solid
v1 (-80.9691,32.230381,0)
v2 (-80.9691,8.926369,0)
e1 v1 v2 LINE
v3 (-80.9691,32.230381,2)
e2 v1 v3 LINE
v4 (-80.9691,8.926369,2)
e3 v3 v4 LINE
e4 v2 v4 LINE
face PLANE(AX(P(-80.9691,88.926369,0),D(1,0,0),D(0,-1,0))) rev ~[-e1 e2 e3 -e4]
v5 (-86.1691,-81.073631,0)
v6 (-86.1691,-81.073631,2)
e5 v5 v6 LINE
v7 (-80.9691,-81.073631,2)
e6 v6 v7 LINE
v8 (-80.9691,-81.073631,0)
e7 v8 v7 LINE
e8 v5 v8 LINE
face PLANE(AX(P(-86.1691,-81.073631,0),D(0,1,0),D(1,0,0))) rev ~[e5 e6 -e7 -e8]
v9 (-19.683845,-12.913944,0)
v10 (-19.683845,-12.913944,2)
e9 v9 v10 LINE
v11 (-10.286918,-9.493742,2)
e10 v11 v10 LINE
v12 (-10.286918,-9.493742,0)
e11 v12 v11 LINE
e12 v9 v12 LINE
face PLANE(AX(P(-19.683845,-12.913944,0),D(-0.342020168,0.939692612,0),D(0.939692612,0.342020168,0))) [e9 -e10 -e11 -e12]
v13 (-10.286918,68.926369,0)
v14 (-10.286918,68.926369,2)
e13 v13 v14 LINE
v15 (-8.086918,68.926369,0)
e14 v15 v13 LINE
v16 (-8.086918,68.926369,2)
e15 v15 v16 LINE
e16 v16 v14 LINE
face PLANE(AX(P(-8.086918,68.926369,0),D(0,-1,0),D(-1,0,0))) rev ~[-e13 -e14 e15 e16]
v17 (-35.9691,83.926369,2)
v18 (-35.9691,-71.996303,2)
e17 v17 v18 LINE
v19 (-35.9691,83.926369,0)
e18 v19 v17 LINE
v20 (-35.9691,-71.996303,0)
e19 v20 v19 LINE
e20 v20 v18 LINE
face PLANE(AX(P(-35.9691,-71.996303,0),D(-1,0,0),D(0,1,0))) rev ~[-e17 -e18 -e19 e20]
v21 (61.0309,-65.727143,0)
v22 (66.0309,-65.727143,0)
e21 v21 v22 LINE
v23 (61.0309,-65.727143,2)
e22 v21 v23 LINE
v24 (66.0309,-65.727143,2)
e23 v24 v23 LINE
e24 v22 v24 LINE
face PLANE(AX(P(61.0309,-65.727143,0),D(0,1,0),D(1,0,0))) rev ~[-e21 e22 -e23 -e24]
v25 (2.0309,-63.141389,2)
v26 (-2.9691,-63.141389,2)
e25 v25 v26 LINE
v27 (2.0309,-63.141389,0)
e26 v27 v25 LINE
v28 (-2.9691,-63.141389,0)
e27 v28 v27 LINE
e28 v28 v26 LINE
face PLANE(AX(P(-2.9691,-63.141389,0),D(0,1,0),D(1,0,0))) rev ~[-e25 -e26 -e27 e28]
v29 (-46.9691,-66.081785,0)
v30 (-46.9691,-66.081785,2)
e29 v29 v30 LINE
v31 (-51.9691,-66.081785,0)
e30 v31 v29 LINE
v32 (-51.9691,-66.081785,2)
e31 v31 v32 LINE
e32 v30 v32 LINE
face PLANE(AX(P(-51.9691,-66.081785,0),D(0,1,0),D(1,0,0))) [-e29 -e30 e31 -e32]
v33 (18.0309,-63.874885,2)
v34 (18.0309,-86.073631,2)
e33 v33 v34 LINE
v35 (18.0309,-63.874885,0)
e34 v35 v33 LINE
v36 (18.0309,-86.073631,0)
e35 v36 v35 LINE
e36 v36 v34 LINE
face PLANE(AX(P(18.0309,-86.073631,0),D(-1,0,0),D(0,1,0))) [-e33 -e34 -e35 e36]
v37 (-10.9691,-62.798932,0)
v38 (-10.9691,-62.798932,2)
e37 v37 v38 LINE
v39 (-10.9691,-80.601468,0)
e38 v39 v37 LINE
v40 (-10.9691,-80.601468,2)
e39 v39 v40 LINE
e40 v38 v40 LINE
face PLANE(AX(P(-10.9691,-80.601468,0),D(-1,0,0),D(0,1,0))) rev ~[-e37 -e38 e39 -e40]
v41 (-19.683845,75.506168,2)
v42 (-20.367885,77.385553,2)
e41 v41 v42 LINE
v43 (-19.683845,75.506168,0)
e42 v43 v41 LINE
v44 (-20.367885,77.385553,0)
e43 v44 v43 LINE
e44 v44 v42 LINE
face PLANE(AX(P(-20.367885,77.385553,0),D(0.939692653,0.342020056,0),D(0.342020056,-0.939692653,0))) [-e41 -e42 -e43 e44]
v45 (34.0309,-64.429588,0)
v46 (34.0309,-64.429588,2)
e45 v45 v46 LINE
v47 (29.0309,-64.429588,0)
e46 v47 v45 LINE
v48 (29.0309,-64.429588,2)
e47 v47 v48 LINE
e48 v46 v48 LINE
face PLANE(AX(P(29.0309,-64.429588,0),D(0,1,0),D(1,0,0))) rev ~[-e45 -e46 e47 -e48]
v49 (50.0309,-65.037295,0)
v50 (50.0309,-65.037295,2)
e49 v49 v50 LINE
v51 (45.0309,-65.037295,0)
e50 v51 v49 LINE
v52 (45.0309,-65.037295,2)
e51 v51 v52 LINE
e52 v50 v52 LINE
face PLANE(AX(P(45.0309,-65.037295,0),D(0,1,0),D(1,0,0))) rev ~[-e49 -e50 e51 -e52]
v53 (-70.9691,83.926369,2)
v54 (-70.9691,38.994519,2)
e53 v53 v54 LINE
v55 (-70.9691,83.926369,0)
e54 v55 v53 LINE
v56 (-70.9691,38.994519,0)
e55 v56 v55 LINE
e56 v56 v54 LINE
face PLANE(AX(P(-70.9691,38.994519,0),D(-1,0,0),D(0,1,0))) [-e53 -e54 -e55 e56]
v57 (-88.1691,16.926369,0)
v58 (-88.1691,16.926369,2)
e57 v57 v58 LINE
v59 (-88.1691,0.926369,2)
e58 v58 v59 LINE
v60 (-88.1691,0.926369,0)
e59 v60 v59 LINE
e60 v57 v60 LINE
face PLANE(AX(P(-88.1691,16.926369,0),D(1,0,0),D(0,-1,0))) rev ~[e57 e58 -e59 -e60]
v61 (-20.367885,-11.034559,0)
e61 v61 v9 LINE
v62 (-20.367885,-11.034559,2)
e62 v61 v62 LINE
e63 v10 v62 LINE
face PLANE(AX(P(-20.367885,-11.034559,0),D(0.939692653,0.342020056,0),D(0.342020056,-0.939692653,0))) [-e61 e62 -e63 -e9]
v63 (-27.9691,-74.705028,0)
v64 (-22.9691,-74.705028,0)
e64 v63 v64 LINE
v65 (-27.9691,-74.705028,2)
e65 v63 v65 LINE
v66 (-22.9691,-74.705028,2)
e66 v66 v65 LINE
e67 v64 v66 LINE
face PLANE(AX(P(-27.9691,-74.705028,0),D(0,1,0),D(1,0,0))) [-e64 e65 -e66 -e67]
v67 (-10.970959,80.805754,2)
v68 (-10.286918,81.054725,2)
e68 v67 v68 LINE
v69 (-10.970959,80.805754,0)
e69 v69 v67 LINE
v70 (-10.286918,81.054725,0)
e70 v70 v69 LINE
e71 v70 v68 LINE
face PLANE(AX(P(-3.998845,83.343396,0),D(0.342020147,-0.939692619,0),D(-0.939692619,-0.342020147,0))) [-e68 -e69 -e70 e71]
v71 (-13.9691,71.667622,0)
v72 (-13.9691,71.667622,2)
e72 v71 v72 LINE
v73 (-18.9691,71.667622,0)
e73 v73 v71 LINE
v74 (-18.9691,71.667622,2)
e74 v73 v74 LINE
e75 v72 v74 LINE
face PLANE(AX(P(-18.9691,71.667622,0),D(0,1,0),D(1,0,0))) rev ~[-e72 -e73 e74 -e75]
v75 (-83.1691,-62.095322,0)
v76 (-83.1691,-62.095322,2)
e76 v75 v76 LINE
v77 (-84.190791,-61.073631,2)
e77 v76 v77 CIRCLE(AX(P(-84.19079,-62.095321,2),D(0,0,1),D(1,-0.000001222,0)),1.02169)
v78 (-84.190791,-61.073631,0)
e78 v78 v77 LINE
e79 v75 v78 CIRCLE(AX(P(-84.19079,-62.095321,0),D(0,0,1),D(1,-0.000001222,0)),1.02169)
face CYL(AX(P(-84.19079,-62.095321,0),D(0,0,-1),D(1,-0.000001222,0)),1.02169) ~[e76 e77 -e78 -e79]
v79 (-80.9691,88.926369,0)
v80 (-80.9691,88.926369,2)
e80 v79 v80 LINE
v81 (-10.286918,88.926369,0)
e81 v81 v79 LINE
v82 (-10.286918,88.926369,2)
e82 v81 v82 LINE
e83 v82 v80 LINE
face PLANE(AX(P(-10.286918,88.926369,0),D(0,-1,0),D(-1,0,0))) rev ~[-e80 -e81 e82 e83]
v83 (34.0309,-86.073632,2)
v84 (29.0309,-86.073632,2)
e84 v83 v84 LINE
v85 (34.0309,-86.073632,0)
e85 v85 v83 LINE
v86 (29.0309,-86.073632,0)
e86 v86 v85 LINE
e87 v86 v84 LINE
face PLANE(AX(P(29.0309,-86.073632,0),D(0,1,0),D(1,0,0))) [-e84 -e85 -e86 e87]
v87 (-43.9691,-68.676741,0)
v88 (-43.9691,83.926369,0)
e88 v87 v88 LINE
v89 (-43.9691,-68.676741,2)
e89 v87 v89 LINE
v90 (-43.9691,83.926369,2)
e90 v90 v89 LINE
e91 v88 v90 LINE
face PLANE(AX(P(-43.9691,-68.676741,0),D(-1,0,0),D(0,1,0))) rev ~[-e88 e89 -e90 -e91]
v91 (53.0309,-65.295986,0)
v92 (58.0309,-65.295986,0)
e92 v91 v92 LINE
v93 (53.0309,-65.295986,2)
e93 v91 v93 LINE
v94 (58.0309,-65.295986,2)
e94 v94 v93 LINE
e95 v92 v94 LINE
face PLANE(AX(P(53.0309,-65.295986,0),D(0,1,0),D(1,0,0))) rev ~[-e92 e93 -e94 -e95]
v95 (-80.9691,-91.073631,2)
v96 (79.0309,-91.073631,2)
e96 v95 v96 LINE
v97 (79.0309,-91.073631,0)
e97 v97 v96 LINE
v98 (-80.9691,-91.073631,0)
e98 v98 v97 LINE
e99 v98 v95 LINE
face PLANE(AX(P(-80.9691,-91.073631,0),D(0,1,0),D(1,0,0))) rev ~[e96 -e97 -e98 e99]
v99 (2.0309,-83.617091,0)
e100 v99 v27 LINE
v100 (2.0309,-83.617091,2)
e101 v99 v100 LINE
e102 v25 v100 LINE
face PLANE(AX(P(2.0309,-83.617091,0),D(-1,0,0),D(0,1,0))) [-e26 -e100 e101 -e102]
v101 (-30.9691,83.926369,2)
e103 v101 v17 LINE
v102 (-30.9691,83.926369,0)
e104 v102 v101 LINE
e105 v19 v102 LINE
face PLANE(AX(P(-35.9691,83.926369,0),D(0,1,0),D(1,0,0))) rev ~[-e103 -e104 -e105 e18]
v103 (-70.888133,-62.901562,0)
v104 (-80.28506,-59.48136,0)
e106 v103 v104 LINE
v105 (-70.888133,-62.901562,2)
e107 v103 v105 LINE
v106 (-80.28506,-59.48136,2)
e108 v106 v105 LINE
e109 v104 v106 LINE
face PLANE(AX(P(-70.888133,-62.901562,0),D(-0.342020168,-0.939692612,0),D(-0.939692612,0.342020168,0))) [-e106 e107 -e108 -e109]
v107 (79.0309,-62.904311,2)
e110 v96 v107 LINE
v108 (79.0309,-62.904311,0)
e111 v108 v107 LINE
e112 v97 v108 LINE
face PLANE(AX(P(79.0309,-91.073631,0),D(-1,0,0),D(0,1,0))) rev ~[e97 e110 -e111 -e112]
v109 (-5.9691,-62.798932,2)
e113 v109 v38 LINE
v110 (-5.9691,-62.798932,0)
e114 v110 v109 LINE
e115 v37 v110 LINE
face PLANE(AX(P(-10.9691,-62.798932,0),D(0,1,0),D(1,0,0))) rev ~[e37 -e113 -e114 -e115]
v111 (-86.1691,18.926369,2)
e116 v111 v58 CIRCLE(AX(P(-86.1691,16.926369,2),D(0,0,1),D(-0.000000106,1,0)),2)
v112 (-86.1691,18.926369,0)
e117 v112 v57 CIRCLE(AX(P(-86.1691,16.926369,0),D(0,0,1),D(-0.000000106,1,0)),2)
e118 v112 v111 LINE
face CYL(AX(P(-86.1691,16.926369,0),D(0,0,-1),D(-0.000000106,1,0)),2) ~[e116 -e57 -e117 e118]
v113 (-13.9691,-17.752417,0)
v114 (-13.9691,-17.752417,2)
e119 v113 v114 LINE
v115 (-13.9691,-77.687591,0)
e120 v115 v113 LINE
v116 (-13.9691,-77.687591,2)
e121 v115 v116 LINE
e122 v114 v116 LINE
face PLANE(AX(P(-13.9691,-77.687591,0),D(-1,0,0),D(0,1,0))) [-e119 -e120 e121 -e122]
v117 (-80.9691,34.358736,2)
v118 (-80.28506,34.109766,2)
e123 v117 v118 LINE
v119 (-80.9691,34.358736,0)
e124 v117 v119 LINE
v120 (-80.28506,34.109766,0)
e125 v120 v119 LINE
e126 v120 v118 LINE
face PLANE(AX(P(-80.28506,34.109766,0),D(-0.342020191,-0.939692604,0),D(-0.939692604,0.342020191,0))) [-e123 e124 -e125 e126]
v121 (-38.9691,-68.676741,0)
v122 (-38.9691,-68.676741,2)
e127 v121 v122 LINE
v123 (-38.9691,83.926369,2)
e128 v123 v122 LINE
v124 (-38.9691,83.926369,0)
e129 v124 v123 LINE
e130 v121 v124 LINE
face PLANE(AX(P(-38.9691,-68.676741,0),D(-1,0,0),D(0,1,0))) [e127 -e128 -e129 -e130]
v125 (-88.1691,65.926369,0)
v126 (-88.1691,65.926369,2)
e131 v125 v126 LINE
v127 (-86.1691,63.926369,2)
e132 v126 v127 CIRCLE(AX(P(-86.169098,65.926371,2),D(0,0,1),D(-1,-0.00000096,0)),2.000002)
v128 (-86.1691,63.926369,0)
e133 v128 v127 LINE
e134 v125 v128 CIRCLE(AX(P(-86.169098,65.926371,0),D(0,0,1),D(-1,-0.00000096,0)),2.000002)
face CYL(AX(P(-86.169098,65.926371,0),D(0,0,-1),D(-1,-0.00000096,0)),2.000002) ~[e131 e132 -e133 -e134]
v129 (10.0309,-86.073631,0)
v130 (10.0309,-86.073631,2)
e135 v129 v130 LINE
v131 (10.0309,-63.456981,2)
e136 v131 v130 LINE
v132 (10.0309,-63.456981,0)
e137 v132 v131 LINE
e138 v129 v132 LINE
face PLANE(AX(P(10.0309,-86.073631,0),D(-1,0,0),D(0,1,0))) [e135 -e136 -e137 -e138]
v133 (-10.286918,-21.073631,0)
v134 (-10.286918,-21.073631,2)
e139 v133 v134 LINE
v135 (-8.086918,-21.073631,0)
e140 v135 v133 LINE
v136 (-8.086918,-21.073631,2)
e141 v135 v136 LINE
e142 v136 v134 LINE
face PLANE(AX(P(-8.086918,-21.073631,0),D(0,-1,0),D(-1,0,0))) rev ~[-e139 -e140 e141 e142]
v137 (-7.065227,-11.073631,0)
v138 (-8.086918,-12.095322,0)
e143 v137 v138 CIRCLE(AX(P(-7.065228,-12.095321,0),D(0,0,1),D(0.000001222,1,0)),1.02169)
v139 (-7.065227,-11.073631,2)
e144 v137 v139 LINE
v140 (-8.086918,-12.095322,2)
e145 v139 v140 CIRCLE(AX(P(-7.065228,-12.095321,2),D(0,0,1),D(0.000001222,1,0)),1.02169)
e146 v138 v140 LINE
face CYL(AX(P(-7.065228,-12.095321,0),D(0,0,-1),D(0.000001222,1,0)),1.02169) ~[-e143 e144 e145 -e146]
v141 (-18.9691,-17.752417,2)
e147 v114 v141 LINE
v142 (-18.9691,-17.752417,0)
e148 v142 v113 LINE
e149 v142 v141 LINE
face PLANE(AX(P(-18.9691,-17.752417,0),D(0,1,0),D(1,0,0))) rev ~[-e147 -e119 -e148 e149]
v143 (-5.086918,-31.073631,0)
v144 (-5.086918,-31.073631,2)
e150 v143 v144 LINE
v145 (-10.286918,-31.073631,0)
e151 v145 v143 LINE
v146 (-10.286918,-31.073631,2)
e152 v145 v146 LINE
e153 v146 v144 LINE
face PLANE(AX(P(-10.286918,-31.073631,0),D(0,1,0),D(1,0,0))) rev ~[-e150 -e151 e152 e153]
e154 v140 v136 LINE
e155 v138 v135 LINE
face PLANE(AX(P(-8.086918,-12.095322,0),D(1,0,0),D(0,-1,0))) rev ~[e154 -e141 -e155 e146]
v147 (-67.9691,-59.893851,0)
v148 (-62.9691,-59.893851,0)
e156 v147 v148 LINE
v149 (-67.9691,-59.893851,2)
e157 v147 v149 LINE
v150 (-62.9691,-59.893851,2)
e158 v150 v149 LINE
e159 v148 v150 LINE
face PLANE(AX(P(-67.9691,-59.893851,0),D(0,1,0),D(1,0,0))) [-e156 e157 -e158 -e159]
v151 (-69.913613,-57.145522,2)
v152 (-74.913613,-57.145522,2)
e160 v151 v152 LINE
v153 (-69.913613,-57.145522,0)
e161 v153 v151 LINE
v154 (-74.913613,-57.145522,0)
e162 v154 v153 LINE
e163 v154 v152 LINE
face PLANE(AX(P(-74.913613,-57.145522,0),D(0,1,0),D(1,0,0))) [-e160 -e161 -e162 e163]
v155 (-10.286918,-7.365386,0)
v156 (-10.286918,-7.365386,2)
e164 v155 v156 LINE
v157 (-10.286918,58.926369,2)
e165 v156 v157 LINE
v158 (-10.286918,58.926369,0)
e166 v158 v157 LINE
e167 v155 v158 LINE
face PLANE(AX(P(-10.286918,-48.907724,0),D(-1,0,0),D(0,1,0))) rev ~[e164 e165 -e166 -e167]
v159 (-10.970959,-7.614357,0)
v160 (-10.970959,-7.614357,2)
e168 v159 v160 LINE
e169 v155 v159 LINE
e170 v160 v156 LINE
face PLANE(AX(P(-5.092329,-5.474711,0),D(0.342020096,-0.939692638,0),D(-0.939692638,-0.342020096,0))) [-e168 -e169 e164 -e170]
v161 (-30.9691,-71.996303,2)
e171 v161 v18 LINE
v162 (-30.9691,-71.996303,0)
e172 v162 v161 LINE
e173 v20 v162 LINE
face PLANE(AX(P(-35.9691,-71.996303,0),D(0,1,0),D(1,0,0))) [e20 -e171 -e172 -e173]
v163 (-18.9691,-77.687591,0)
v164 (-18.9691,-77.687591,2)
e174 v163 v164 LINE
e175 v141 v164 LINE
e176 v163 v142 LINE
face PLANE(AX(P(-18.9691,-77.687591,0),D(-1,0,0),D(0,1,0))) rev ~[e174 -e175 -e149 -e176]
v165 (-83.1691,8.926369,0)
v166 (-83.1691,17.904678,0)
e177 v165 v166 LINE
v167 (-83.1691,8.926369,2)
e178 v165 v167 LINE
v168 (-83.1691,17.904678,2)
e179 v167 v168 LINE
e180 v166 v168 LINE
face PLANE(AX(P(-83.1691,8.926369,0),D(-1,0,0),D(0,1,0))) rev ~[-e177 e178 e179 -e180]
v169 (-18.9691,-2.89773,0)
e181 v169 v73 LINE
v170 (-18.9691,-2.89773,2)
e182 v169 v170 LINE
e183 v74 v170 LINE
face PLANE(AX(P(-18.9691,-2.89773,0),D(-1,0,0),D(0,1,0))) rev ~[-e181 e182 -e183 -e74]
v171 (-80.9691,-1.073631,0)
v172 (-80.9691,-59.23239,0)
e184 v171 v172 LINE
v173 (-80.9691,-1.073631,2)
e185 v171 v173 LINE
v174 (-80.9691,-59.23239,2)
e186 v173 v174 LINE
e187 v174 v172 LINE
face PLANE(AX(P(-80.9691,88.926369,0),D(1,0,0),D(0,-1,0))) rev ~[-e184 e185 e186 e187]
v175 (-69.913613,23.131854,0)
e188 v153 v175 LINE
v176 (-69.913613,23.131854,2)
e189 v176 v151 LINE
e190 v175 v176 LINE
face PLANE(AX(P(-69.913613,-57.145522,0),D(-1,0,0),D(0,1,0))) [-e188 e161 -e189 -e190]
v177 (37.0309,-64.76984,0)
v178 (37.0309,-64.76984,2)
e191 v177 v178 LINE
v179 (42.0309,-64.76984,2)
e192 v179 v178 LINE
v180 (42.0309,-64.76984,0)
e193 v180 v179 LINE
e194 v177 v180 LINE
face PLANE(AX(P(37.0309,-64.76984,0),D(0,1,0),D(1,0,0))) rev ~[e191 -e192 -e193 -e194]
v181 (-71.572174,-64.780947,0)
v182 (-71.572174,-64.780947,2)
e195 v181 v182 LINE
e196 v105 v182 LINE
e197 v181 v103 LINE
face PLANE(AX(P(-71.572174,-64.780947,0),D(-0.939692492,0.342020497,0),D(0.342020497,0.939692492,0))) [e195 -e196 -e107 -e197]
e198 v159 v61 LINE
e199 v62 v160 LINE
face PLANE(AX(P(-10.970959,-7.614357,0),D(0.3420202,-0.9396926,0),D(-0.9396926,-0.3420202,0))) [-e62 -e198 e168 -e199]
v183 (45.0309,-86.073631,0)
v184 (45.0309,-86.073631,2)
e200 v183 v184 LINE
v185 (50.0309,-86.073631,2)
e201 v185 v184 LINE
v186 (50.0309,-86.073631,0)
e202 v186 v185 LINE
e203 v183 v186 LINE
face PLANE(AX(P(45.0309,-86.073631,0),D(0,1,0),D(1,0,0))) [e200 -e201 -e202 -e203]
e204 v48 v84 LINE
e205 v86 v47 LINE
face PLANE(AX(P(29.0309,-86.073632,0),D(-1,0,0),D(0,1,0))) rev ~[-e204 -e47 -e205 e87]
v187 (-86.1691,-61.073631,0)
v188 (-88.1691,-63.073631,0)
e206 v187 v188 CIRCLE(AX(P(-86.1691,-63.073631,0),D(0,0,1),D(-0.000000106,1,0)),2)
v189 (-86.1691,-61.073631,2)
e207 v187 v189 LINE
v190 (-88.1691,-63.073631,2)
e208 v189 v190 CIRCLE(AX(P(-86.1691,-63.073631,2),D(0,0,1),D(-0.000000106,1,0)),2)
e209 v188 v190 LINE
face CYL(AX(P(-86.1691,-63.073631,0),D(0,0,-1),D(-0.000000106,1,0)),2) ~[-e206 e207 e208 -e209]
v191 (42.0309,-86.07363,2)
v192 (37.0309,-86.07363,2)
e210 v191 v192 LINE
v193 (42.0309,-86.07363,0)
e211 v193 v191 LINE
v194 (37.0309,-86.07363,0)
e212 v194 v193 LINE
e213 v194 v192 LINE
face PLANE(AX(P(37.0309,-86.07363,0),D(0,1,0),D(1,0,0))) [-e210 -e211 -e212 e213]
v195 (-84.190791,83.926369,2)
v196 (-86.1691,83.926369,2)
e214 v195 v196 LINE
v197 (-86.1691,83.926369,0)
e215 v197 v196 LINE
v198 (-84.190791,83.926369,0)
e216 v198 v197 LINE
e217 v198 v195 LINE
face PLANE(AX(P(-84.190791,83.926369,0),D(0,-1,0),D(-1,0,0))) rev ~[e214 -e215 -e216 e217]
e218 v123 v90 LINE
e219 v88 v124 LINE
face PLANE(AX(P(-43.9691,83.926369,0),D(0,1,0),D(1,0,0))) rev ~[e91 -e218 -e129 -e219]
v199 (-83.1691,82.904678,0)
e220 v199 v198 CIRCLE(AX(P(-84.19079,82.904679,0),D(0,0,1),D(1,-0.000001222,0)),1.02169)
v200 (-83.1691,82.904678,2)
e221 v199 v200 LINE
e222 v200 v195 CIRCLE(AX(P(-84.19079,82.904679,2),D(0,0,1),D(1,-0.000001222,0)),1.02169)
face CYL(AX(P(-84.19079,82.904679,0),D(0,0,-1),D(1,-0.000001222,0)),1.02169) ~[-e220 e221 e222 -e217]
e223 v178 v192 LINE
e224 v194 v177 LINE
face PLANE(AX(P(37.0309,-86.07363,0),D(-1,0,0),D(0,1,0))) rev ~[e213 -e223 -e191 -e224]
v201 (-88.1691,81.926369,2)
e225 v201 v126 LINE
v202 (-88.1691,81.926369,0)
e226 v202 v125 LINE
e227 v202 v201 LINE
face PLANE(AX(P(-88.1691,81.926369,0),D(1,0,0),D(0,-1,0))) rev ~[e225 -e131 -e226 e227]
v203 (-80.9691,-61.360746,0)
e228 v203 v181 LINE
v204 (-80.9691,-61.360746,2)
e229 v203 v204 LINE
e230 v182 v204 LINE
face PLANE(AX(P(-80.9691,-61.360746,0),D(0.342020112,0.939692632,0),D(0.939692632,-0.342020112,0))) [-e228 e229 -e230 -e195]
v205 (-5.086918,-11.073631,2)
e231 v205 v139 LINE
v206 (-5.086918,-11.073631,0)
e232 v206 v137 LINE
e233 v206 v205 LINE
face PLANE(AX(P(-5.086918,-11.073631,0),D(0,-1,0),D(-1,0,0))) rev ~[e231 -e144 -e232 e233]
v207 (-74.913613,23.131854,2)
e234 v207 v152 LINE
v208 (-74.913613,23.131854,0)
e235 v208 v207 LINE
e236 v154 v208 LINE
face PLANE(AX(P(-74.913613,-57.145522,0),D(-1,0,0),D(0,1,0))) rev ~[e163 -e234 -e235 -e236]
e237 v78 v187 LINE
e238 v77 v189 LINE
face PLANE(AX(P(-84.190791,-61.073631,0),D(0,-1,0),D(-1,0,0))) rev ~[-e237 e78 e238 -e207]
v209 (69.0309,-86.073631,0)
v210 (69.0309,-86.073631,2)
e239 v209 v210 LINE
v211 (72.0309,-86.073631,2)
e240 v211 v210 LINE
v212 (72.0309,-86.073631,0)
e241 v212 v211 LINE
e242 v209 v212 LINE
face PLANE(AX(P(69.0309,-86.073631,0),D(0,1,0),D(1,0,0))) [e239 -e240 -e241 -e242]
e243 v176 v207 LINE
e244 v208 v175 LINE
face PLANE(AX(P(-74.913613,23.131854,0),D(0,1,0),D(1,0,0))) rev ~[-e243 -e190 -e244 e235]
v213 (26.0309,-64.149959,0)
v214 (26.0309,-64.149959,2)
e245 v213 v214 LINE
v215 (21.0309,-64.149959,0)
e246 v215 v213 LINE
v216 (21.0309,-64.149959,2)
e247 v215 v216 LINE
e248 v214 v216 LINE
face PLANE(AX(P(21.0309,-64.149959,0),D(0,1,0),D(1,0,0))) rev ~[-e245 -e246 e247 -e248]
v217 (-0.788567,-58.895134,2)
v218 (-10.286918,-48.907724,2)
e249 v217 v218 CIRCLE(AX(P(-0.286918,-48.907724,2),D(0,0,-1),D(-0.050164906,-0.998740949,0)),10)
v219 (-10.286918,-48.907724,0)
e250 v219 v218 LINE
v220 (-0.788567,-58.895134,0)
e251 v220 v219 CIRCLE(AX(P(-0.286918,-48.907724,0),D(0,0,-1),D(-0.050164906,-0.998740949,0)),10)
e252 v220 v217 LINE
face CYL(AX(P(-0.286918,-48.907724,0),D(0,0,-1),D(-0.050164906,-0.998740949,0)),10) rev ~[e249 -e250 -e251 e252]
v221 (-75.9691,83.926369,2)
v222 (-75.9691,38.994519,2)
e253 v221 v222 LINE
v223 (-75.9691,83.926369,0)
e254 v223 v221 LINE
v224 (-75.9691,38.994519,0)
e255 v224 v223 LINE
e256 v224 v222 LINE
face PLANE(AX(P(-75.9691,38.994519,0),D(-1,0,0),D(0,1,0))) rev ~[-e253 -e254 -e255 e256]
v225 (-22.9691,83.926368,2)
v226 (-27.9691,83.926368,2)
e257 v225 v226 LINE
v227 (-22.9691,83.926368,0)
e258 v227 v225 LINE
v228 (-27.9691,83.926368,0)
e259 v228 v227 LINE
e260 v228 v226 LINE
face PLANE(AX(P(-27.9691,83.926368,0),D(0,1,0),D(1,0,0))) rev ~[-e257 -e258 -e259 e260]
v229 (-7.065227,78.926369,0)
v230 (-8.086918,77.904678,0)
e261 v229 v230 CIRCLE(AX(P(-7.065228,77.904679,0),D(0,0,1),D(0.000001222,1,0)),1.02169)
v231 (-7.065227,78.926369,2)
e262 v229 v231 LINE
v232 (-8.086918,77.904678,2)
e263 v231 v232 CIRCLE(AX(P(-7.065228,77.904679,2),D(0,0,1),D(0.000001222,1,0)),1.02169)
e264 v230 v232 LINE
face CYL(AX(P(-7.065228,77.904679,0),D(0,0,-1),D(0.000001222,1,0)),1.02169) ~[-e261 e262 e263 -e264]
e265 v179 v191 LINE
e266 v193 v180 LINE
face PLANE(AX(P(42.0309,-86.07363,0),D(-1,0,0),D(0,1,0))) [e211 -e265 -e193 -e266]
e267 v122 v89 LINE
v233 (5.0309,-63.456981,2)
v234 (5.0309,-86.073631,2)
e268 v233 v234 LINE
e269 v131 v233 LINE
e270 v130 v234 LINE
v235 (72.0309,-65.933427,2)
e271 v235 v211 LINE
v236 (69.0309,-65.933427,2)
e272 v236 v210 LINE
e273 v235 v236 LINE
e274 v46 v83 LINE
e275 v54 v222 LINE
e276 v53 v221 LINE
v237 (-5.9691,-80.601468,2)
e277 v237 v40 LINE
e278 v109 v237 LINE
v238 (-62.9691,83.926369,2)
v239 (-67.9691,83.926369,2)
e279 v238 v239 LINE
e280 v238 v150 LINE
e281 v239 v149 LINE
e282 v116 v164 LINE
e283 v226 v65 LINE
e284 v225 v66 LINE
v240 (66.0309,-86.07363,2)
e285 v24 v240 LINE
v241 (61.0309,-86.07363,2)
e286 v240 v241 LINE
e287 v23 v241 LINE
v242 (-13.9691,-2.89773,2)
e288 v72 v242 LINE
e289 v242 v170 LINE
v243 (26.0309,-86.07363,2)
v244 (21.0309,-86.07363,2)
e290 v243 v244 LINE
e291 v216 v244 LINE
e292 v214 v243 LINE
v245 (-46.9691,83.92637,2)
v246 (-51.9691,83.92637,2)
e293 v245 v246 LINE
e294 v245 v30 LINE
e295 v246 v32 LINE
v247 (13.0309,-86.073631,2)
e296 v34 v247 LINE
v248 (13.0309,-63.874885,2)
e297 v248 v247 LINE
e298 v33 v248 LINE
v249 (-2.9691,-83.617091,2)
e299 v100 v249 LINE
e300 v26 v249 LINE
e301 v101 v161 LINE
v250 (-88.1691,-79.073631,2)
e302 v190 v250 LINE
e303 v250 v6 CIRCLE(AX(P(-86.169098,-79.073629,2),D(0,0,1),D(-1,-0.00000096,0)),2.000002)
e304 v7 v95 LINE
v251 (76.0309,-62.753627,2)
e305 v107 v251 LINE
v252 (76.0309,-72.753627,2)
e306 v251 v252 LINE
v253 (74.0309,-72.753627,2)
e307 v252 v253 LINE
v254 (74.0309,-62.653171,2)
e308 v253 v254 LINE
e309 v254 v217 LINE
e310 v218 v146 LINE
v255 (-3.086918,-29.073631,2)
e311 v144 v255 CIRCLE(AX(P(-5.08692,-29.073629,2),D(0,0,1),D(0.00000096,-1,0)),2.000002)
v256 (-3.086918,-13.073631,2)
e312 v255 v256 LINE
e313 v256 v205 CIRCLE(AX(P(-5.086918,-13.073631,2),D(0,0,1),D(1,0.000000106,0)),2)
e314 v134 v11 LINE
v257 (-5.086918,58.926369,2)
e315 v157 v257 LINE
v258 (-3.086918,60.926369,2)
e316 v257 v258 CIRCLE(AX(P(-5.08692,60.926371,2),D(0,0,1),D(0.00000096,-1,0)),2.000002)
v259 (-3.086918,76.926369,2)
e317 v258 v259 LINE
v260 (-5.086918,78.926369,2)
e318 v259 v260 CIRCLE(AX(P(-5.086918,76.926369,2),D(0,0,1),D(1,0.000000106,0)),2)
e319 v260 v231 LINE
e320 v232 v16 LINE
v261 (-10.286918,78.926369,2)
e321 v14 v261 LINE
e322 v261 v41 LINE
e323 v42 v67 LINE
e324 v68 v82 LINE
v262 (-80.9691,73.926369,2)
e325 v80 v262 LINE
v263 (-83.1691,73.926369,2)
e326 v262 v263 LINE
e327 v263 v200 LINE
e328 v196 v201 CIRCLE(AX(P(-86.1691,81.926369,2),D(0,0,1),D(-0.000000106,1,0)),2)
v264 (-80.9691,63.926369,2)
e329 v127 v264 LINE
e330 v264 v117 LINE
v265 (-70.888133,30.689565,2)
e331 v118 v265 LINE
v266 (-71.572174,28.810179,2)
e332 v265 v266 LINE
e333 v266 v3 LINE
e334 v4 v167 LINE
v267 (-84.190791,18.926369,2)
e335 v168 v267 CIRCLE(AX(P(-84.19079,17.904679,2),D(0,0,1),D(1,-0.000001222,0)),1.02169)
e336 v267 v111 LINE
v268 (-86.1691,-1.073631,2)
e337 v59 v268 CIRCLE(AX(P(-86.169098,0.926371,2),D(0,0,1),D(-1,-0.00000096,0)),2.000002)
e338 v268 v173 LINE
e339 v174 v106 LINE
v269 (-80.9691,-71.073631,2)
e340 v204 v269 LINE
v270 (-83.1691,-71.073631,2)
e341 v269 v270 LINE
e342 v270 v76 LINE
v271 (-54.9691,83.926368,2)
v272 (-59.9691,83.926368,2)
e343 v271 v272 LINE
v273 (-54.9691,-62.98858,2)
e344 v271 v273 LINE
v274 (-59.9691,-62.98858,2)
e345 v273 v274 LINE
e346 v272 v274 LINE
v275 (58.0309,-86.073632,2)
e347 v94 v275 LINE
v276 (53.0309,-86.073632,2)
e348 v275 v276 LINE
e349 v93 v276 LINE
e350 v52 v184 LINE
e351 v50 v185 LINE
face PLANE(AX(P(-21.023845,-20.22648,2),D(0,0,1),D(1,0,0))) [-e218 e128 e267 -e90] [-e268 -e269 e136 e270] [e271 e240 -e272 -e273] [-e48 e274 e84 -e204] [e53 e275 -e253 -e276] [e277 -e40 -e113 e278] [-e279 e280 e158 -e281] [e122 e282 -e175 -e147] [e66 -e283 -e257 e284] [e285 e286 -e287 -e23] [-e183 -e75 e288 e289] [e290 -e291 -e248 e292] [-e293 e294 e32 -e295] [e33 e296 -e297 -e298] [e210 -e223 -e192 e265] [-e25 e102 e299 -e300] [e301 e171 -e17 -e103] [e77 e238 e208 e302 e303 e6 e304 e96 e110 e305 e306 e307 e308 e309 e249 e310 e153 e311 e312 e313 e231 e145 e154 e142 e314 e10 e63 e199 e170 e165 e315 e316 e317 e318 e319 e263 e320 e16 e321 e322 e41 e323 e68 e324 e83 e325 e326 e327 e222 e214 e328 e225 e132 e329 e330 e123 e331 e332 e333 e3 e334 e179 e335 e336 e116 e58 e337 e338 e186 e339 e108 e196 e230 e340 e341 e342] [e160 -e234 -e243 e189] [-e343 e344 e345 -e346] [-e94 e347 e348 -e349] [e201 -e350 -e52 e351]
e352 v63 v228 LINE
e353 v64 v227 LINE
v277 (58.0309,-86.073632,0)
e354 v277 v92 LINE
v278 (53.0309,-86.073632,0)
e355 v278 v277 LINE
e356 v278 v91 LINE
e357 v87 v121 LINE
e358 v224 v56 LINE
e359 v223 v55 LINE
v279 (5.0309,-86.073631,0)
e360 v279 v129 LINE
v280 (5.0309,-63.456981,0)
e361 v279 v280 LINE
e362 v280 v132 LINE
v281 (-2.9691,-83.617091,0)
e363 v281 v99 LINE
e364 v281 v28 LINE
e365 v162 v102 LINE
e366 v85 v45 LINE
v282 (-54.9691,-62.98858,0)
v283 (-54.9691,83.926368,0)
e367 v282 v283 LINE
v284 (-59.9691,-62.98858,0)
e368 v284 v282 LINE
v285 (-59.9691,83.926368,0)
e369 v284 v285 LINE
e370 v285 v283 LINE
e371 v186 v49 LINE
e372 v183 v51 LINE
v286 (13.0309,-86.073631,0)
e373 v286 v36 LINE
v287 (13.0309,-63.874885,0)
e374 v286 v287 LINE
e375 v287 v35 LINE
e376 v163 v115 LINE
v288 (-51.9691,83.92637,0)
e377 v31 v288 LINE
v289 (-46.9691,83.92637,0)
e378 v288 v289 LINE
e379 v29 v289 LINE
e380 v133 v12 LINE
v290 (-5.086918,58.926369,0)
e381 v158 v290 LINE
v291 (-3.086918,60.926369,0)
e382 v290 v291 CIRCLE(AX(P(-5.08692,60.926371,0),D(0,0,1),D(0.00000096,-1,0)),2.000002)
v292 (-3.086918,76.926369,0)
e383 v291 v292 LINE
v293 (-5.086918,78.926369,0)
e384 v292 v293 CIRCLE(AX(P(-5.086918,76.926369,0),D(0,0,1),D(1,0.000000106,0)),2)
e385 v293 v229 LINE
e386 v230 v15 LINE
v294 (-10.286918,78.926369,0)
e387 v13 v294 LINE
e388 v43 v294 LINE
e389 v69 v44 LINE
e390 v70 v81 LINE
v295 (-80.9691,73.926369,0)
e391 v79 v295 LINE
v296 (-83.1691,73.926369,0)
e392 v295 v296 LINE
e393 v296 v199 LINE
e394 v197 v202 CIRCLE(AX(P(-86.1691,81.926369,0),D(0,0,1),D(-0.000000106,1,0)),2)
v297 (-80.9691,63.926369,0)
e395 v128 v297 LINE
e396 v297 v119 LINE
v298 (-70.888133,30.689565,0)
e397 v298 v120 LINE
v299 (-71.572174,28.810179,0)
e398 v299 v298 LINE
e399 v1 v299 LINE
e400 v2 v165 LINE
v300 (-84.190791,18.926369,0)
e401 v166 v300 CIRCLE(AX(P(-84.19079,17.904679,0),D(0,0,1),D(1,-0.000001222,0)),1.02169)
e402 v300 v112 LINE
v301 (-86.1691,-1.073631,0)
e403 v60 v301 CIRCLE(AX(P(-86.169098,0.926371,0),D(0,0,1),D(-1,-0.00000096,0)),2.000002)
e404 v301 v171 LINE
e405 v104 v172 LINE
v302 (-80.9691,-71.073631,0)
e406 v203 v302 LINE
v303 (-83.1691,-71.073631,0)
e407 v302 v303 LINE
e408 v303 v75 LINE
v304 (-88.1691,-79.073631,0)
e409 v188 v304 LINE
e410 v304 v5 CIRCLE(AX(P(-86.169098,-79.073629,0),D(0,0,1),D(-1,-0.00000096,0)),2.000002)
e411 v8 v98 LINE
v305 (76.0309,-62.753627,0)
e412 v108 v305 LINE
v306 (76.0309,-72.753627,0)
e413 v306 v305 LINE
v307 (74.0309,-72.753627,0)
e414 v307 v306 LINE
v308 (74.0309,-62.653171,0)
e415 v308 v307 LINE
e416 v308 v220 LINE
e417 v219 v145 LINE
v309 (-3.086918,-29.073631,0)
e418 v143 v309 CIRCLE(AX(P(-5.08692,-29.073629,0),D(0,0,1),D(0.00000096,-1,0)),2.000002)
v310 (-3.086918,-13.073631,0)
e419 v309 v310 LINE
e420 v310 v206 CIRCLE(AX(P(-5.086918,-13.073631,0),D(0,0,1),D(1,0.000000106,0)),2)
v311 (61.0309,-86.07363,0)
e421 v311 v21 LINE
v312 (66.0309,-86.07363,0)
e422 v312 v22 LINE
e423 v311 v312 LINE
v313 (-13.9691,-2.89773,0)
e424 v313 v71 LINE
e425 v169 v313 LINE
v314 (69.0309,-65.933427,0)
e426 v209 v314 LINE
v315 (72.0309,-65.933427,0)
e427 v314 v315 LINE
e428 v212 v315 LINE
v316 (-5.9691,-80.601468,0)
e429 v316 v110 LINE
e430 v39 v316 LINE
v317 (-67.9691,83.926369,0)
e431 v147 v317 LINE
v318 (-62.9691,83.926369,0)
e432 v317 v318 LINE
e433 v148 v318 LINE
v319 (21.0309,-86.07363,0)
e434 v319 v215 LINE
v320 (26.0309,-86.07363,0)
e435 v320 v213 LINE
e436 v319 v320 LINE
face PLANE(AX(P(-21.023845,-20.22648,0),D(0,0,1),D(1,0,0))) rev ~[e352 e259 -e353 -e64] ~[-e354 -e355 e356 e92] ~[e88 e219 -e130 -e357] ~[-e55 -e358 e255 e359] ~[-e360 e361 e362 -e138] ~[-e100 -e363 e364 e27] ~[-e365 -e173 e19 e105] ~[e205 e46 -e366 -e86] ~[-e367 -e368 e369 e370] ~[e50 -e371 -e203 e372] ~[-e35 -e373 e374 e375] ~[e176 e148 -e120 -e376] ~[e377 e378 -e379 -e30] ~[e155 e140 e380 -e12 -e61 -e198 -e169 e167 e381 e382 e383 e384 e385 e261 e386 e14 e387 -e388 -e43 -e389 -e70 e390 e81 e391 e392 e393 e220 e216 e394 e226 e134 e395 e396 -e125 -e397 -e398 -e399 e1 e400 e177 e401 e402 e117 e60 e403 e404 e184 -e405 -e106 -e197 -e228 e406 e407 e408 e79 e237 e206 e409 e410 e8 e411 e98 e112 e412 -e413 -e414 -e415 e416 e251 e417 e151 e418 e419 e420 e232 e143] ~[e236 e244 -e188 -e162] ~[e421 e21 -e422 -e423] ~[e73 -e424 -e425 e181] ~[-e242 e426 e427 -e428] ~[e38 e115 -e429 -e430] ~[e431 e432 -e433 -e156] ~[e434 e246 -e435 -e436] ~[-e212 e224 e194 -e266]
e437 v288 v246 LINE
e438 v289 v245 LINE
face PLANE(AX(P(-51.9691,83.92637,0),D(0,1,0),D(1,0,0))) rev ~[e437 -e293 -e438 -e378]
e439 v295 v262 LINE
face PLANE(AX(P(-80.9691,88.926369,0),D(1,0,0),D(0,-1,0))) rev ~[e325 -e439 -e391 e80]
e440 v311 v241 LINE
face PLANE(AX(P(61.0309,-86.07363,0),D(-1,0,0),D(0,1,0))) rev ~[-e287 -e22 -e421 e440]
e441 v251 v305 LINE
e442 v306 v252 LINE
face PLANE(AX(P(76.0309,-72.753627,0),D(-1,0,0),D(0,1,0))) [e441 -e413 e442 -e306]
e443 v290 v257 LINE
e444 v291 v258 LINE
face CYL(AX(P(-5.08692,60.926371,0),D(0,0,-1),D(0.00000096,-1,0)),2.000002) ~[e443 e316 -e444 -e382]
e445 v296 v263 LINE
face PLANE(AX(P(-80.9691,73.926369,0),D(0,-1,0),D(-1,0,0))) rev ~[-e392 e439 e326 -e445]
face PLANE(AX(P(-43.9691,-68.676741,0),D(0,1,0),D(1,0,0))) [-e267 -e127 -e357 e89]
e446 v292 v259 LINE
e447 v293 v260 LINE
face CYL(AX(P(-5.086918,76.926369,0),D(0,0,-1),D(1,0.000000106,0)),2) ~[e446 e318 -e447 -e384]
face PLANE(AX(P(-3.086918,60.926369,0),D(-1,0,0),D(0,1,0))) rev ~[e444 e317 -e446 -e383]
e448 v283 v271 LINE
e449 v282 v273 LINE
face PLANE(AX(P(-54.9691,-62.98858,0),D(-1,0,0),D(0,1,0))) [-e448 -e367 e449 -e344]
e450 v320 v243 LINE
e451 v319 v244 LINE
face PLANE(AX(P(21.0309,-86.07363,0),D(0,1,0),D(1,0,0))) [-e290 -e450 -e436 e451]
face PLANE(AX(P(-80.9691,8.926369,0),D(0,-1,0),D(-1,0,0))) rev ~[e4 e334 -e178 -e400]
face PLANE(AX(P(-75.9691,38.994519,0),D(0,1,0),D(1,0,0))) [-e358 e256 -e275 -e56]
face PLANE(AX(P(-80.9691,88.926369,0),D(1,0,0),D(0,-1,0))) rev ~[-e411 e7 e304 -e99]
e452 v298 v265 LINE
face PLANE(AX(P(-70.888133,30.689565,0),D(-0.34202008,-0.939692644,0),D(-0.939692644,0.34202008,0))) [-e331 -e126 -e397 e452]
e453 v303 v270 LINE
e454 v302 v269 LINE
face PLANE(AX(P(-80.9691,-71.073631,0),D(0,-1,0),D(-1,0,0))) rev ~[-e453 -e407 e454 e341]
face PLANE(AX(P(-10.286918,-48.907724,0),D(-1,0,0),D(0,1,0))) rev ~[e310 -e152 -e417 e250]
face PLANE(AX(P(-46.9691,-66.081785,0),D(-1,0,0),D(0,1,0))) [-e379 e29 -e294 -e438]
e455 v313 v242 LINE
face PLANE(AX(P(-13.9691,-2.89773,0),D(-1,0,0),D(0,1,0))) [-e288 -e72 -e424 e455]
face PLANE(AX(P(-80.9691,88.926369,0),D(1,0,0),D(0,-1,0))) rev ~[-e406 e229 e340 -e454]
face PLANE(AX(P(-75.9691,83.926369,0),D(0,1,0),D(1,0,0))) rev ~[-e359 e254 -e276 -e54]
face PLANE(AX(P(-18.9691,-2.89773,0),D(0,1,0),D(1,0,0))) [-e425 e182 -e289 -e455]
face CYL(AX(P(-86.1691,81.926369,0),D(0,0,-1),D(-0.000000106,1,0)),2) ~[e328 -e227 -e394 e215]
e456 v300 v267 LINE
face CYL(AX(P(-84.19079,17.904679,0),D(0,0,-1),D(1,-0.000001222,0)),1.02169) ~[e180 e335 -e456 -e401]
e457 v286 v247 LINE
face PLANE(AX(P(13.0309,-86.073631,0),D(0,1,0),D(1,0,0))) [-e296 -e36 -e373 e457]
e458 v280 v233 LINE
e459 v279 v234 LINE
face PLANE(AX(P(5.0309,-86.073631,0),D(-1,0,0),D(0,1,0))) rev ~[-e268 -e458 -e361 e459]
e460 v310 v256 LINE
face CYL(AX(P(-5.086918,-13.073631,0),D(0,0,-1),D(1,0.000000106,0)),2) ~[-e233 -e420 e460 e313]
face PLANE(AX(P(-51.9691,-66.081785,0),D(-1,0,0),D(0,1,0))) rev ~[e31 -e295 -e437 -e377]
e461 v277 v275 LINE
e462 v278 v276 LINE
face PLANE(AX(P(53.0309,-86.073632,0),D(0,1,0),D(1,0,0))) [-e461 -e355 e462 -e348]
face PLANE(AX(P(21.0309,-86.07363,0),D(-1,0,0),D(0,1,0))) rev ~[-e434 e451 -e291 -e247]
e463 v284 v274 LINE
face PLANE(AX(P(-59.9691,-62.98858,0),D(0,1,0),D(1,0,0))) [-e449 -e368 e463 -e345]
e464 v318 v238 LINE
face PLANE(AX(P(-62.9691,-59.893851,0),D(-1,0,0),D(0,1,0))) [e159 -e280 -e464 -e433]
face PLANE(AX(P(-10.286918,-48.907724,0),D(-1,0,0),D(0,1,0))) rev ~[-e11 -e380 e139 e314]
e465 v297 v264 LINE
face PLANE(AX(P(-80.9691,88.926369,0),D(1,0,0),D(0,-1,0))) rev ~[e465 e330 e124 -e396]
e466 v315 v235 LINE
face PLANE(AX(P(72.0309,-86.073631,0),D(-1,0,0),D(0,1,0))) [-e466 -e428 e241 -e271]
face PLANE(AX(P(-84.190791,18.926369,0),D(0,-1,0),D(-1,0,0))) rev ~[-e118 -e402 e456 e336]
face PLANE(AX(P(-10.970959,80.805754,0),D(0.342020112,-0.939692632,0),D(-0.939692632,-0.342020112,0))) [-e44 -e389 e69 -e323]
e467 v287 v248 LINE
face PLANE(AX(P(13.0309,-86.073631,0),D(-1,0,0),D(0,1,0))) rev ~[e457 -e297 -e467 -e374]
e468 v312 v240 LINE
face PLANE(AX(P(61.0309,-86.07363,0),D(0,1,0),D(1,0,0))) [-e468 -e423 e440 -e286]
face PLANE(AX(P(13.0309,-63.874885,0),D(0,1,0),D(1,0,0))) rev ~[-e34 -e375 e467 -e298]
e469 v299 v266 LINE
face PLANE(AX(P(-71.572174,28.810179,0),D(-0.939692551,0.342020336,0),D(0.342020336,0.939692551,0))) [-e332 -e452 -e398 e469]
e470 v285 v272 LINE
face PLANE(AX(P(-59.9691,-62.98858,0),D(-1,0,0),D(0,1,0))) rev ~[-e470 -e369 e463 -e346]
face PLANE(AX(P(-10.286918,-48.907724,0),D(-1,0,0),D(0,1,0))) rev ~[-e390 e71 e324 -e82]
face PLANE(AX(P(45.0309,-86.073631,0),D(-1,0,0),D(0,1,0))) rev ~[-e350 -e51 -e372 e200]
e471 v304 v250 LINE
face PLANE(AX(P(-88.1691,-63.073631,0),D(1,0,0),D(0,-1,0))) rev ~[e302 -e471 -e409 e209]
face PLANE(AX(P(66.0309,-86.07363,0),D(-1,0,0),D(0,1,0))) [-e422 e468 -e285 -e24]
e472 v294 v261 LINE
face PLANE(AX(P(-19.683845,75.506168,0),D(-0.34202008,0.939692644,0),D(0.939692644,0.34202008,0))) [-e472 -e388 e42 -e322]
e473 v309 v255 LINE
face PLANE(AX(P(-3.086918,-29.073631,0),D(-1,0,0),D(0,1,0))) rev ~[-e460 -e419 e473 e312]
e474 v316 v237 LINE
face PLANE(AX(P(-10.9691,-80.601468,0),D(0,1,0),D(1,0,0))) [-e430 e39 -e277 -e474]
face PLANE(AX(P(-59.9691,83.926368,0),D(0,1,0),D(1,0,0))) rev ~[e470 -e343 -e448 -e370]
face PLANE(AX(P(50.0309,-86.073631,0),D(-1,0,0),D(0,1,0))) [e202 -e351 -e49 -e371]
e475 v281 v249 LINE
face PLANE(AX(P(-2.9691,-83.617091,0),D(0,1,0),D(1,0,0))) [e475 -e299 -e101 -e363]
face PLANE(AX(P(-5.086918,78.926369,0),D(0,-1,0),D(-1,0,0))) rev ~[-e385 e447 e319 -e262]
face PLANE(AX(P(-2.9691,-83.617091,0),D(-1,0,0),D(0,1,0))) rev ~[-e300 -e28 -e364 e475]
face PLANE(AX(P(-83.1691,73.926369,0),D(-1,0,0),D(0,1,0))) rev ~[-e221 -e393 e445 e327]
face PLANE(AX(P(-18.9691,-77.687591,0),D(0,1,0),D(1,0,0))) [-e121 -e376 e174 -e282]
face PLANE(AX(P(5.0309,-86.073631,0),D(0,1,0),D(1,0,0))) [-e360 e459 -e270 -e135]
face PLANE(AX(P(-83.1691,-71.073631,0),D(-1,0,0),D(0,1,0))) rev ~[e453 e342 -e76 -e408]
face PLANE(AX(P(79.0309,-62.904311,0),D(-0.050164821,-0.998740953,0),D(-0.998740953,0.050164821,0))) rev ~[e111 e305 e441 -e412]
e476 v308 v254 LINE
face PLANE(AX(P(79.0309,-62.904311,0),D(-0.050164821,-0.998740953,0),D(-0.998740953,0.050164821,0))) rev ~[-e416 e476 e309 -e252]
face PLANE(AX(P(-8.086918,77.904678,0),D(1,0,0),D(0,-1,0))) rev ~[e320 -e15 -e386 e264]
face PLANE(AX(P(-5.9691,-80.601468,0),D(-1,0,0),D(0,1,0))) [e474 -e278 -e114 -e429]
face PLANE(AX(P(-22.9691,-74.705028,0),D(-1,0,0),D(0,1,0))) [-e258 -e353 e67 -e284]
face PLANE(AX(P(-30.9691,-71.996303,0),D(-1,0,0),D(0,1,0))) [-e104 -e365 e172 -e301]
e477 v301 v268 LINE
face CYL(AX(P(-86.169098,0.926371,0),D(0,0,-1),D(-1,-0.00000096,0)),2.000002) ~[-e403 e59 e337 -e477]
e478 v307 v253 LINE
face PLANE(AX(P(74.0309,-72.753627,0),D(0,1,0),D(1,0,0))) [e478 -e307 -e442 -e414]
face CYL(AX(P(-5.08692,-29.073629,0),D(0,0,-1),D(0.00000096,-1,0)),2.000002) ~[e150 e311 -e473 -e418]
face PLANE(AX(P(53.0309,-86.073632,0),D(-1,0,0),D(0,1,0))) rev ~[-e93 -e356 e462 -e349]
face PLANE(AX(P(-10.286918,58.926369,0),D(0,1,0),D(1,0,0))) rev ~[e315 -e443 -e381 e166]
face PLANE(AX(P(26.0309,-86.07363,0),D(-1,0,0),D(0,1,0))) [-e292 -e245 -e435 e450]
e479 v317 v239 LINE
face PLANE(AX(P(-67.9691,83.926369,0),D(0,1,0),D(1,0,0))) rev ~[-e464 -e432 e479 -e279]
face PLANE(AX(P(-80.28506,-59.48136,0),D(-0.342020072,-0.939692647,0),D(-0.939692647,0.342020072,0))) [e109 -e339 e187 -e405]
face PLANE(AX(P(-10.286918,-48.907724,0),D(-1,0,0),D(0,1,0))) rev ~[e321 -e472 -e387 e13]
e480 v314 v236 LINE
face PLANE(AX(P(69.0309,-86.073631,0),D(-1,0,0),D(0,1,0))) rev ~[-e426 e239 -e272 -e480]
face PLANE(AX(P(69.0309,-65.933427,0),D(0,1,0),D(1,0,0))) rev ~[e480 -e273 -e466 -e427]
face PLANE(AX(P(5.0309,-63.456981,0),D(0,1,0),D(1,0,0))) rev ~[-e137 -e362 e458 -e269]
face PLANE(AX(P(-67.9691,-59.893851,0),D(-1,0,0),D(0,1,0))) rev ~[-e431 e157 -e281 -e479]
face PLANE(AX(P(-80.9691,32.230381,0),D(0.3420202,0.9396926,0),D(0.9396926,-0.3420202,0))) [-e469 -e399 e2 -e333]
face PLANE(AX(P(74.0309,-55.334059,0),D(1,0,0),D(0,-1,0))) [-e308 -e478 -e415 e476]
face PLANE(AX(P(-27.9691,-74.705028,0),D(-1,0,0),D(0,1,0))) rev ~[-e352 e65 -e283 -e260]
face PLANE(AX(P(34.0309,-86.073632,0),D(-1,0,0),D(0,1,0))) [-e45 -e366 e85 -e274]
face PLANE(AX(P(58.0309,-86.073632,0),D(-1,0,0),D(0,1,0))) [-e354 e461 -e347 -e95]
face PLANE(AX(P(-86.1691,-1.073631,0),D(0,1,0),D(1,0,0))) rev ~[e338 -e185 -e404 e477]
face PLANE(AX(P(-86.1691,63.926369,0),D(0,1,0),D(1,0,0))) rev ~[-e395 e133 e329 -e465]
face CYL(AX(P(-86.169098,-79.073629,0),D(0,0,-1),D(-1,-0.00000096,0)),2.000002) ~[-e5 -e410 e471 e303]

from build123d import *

# Parameters (mm, degrees)
F2_DEPTH = 2
F3_W     = 2
F3_H     = 10
F3_H_2   = 7.419568
F4_DEPTH = 25
F6_DEPTH = 2
F7_W     = 5
F7_H     = 44.93185
F7_H_2   = 80.277377
F7_H_3   = 143.82022
F7_H_4   = 146.914949
F7_H_5   = 150.008155
F7_H_6   = 155.922672
F7_H_7   = 152.60311
F7_H_8   = 158.631397
F7_H_9   = 74.565352
F7_H_10  = 59.935174
F7_H_11  = 17.802537
F7_H_12  = 20.475702
F7_H_13  = 22.61665
F7_H_14  = 22.198746
F7_H_15  = 21.923671
F7_H_16  = 21.644043
F7_H_17  = 21.303791
F7_H_18  = 21.036336
F7_H_19  = 20.777645
F7_H_20  = 20.346487
F7_W_2   = 3
F7_H_21  = 20.140204
F8_DEPTH = 5


with BuildPart() as f2:
    # F1 (on Top) → F2 (new body)
    with BuildSketch(Plane.XY):
        with BuildLine():
            Line((-10.286918, 88.926369), (-80.9691, 88.926369))
            Line((-80.9691, 88.926369), (-80.9691, -91.073631))
            Line((-80.9691, -91.073631), (79.0309, -91.073631))
            Line((79.0309, -91.073631), (79.0309, -62.904311))
            Line((79.0309, -62.904311), (-0.788567, -58.895134))
            ThreePointArc((-0.788567, -58.895134), (-7.533175, -55.799151), (-10.286918, -48.907724))
            Line((-10.286918, -48.907724), (-10.286918, 88.926369))
        make_face()
    extrude(amount=F2_DEPTH)

    # F3 (on Top) → F4 (cut)
    with BuildSketch(Plane.XY):
        Polygon((-10.970959, -7.614357), (-20.367885, -11.034559), (-19.683845, -12.913944), (-10.286918, -9.493742), align=None)
        Polygon((-5.092329, -5.474711), (-10.970959, -7.614357), (-10.286918, -9.493742), (-4.408289, -7.354096), align=None)
        Polygon((-10.970959, 80.805754), (-20.367885, 77.385553), (-19.683845, 75.506168), (-10.286918, 78.926369), align=None)
        Polygon((-3.998845, 83.343396), (-10.970959, 80.805754), (-10.286918, 78.926369), (-3.314805, 81.464011), align=None)
        Polygon((-80.9691, 32.230381), (-71.572174, 28.810179), (-70.888133, 30.689565), (-80.28506, 34.109766), align=None)
        Polygon((-87.941213, 34.768023), (-80.9691, 32.230381), (-80.28506, 34.109766), (-87.257173, 36.647408), align=None)
        Polygon((-80.9691, -61.360746), (-71.572174, -64.780947), (-70.888133, -62.901562), (-80.28506, -59.48136), align=None)
        Polygon((-87.941213, -58.823104), (-80.9691, -61.360746), (-80.28506, -59.48136), (-87.257173, -56.943719), align=None)
        with Locations((75.0309, -67.753627)):
            Rectangle(F3_W, F3_H)
        with Locations((75.0309, -59.043843)):
            Rectangle(F3_W, F3_H_2)
    extrude(amount=F4_DEPTH, mode=Mode.SUBTRACT)

    # F5 (on Top) → F6 (join)
    with BuildSketch(Plane.XY):
        with BuildLine():
            Line((-84.190791, -61.073631), (-86.1691, -61.073631))
            ThreePointArc((-86.1691, -61.073631), (-87.583313, -61.659417), (-88.1691, -63.073631))
            Line((-88.1691, -63.073631), (-88.1691, -79.073631))
            ThreePointArc((-88.1691, -79.073631), (-87.583313, -80.487844), (-86.1691, -81.073631))
            Line((-86.1691, -81.073631), (-83.1691, -81.073631))
            Line((-83.1691, -81.073631), (-80.9691, -81.073631))
            Line((-80.9691, -81.073631), (-80.9691, -71.073631))
            Line((-80.9691, -71.073631), (-83.1691, -71.073631))
            Line((-83.1691, -71.073631), (-83.1691, -62.095322))
            ThreePointArc((-83.1691, -62.095322), (-83.468346, -61.372877), (-84.190791, -61.073631))
        make_face()
        with BuildLine():
            Line((-84.190791, 18.926369), (-86.1691, 18.926369))
            ThreePointArc((-86.1691, 18.926369), (-87.583313, 18.340583), (-88.1691, 16.926369))
            Line((-88.1691, 16.926369), (-88.1691, 0.926369))
            ThreePointArc((-88.1691, 0.926369), (-87.583313, -0.487844), (-86.1691, -1.073631))
            Line((-86.1691, -1.073631), (-83.1691, -1.073631))
            Line((-83.1691, -1.073631), (-80.9691, -1.073631))
            Line((-80.9691, -1.073631), (-80.9691, 8.926369))
            Line((-80.9691, 8.926369), (-83.1691, 8.926369))
            Line((-83.1691, 8.926369), (-83.1691, 17.904678))
            ThreePointArc((-83.1691, 17.904678), (-83.468346, 18.627123), (-84.190791, 18.926369))
        make_face()
        with BuildLine():
            Line((-84.190791, 83.926369), (-86.1691, 83.926369))
            ThreePointArc((-86.1691, 83.926369), (-87.583313, 83.340583), (-88.1691, 81.926369))
            Line((-88.1691, 81.926369), (-88.1691, 65.926369))
            ThreePointArc((-88.1691, 65.926369), (-87.583313, 64.512156), (-86.1691, 63.926369))
            Line((-86.1691, 63.926369), (-80.9691, 63.926369))
            Line((-80.9691, 63.926369), (-80.9691, 73.926369))
            Line((-80.9691, 73.926369), (-83.1691, 73.926369))
            Line((-83.1691, 73.926369), (-83.1691, 82.904678))
            ThreePointArc((-83.1691, 82.904678), (-83.468346, 83.627123), (-84.190791, 83.926369))
        make_face()
        with BuildLine():
            Line((-10.286918, 58.926369), (-9.800001, 58.926369))
            Line((-9.800001, 58.926369), (-8.086918, 58.926369))
            Line((-8.086918, 58.926369), (-7.600001, 58.926369))
            Line((-7.600001, 58.926369), (-5.086918, 58.926369))
            ThreePointArc((-5.086918, 58.926369), (-3.672705, 59.512156), (-3.086918, 60.926369))
            Line((-3.086918, 60.926369), (-3.086918, 76.926369))
            ThreePointArc((-3.086918, 76.926369), (-3.672705, 78.340583), (-5.086918, 78.926369))
            Line((-5.086918, 78.926369), (-7.065227, 78.926369))
            ThreePointArc((-7.065227, 78.926369), (-7.787672, 78.627123), (-8.086918, 77.904678))
            Line((-8.086918, 77.904678), (-8.086918, 68.926369))
            Line((-8.086918, 68.926369), (-10.286918, 68.926369))
            Line((-10.286918, 68.926369), (-10.286918, 58.926369))
        make_face()
        with BuildLine():
            Line((-10.286918, -21.073631), (-10.286918, -31.073631))
            Line((-10.286918, -31.073631), (-8.086918, -31.073631))
            Line((-8.086918, -31.073631), (-5.086918, -31.073631))
            ThreePointArc((-5.086918, -31.073631), (-3.672705, -30.487844), (-3.086918, -29.073631))
            Line((-3.086918, -29.073631), (-3.086918, -13.073631))
            ThreePointArc((-3.086918, -13.073631), (-3.672705, -11.659417), (-5.086918, -11.073631))
            Line((-5.086918, -11.073631), (-7.065227, -11.073631))
            ThreePointArc((-7.065227, -11.073631), (-7.787672, -11.372877), (-8.086918, -12.095322))
            Line((-8.086918, -12.095322), (-8.086918, -21.073631))
            Line((-8.086918, -21.073631), (-10.286918, -21.073631))
        make_face()
    extrude(amount=F6_DEPTH)

    # F7 (on Top) → F8 (cut)
    with BuildSketch(Plane.XY):
        with Locations((-73.4691, 61.460444)):
            Rectangle(F7_W, F7_H)
        with Locations((-72.413613, -17.006834)):
            Rectangle(F7_W, F7_H_2)
        with Locations((-65.4691, 12.016259)):
            Rectangle(F7_W, F7_H_3)
        with Locations((-57.4691, 10.468894)):
            Rectangle(F7_W, F7_H_4)
        with Locations((-49.4691, 8.922292)):
            Rectangle(F7_W, F7_H_5)
        with Locations((-33.4691, 5.965033)):
            Rectangle(F7_W, F7_H_6)
        with Locations((-41.4691, 7.624814)):
            Rectangle(F7_W, F7_H_7)
        with Locations((-25.4691, 4.61067)):
            Rectangle(F7_W, F7_H_8)
        with Locations((-16.4691, 34.384946)):
            Rectangle(F7_W, F7_H_9)
        with Locations((-16.4691, -47.720004)):
            Rectangle(F7_W, F7_H_10)
        with Locations((-8.4691, -71.7002)):
            Rectangle(F7_W, F7_H_11)
        with Locations((-0.4691, -73.37924)):
            Rectangle(F7_W, F7_H_12)
        with Locations((7.5309, -74.765306)):
            Rectangle(F7_W, F7_H_13)
        with Locations((15.5309, -74.974258)):
            Rectangle(F7_W, F7_H_14)
        with Locations((23.5309, -75.111795)):
            Rectangle(F7_W, F7_H_15)
        with Locations((31.5309, -75.25161)):
            Rectangle(F7_W, F7_H_16)
        with Locations((39.5309, -75.421735)):
            Rectangle(F7_W, F7_H_17)
        with Locations((47.5309, -75.555463)):
            Rectangle(F7_W, F7_H_18)
        with Locations((55.5309, -75.684809)):
            Rectangle(F7_W, F7_H_19)
        with Locations((63.5309, -75.900387)):
            Rectangle(F7_W, F7_H_20)
        with Locations((70.5309, -76.003529)):
            Rectangle(F7_W_2, F7_H_21)
    extrude(amount=F8_DEPTH, mode=Mode.SUBTRACT)


solid = f2.part
